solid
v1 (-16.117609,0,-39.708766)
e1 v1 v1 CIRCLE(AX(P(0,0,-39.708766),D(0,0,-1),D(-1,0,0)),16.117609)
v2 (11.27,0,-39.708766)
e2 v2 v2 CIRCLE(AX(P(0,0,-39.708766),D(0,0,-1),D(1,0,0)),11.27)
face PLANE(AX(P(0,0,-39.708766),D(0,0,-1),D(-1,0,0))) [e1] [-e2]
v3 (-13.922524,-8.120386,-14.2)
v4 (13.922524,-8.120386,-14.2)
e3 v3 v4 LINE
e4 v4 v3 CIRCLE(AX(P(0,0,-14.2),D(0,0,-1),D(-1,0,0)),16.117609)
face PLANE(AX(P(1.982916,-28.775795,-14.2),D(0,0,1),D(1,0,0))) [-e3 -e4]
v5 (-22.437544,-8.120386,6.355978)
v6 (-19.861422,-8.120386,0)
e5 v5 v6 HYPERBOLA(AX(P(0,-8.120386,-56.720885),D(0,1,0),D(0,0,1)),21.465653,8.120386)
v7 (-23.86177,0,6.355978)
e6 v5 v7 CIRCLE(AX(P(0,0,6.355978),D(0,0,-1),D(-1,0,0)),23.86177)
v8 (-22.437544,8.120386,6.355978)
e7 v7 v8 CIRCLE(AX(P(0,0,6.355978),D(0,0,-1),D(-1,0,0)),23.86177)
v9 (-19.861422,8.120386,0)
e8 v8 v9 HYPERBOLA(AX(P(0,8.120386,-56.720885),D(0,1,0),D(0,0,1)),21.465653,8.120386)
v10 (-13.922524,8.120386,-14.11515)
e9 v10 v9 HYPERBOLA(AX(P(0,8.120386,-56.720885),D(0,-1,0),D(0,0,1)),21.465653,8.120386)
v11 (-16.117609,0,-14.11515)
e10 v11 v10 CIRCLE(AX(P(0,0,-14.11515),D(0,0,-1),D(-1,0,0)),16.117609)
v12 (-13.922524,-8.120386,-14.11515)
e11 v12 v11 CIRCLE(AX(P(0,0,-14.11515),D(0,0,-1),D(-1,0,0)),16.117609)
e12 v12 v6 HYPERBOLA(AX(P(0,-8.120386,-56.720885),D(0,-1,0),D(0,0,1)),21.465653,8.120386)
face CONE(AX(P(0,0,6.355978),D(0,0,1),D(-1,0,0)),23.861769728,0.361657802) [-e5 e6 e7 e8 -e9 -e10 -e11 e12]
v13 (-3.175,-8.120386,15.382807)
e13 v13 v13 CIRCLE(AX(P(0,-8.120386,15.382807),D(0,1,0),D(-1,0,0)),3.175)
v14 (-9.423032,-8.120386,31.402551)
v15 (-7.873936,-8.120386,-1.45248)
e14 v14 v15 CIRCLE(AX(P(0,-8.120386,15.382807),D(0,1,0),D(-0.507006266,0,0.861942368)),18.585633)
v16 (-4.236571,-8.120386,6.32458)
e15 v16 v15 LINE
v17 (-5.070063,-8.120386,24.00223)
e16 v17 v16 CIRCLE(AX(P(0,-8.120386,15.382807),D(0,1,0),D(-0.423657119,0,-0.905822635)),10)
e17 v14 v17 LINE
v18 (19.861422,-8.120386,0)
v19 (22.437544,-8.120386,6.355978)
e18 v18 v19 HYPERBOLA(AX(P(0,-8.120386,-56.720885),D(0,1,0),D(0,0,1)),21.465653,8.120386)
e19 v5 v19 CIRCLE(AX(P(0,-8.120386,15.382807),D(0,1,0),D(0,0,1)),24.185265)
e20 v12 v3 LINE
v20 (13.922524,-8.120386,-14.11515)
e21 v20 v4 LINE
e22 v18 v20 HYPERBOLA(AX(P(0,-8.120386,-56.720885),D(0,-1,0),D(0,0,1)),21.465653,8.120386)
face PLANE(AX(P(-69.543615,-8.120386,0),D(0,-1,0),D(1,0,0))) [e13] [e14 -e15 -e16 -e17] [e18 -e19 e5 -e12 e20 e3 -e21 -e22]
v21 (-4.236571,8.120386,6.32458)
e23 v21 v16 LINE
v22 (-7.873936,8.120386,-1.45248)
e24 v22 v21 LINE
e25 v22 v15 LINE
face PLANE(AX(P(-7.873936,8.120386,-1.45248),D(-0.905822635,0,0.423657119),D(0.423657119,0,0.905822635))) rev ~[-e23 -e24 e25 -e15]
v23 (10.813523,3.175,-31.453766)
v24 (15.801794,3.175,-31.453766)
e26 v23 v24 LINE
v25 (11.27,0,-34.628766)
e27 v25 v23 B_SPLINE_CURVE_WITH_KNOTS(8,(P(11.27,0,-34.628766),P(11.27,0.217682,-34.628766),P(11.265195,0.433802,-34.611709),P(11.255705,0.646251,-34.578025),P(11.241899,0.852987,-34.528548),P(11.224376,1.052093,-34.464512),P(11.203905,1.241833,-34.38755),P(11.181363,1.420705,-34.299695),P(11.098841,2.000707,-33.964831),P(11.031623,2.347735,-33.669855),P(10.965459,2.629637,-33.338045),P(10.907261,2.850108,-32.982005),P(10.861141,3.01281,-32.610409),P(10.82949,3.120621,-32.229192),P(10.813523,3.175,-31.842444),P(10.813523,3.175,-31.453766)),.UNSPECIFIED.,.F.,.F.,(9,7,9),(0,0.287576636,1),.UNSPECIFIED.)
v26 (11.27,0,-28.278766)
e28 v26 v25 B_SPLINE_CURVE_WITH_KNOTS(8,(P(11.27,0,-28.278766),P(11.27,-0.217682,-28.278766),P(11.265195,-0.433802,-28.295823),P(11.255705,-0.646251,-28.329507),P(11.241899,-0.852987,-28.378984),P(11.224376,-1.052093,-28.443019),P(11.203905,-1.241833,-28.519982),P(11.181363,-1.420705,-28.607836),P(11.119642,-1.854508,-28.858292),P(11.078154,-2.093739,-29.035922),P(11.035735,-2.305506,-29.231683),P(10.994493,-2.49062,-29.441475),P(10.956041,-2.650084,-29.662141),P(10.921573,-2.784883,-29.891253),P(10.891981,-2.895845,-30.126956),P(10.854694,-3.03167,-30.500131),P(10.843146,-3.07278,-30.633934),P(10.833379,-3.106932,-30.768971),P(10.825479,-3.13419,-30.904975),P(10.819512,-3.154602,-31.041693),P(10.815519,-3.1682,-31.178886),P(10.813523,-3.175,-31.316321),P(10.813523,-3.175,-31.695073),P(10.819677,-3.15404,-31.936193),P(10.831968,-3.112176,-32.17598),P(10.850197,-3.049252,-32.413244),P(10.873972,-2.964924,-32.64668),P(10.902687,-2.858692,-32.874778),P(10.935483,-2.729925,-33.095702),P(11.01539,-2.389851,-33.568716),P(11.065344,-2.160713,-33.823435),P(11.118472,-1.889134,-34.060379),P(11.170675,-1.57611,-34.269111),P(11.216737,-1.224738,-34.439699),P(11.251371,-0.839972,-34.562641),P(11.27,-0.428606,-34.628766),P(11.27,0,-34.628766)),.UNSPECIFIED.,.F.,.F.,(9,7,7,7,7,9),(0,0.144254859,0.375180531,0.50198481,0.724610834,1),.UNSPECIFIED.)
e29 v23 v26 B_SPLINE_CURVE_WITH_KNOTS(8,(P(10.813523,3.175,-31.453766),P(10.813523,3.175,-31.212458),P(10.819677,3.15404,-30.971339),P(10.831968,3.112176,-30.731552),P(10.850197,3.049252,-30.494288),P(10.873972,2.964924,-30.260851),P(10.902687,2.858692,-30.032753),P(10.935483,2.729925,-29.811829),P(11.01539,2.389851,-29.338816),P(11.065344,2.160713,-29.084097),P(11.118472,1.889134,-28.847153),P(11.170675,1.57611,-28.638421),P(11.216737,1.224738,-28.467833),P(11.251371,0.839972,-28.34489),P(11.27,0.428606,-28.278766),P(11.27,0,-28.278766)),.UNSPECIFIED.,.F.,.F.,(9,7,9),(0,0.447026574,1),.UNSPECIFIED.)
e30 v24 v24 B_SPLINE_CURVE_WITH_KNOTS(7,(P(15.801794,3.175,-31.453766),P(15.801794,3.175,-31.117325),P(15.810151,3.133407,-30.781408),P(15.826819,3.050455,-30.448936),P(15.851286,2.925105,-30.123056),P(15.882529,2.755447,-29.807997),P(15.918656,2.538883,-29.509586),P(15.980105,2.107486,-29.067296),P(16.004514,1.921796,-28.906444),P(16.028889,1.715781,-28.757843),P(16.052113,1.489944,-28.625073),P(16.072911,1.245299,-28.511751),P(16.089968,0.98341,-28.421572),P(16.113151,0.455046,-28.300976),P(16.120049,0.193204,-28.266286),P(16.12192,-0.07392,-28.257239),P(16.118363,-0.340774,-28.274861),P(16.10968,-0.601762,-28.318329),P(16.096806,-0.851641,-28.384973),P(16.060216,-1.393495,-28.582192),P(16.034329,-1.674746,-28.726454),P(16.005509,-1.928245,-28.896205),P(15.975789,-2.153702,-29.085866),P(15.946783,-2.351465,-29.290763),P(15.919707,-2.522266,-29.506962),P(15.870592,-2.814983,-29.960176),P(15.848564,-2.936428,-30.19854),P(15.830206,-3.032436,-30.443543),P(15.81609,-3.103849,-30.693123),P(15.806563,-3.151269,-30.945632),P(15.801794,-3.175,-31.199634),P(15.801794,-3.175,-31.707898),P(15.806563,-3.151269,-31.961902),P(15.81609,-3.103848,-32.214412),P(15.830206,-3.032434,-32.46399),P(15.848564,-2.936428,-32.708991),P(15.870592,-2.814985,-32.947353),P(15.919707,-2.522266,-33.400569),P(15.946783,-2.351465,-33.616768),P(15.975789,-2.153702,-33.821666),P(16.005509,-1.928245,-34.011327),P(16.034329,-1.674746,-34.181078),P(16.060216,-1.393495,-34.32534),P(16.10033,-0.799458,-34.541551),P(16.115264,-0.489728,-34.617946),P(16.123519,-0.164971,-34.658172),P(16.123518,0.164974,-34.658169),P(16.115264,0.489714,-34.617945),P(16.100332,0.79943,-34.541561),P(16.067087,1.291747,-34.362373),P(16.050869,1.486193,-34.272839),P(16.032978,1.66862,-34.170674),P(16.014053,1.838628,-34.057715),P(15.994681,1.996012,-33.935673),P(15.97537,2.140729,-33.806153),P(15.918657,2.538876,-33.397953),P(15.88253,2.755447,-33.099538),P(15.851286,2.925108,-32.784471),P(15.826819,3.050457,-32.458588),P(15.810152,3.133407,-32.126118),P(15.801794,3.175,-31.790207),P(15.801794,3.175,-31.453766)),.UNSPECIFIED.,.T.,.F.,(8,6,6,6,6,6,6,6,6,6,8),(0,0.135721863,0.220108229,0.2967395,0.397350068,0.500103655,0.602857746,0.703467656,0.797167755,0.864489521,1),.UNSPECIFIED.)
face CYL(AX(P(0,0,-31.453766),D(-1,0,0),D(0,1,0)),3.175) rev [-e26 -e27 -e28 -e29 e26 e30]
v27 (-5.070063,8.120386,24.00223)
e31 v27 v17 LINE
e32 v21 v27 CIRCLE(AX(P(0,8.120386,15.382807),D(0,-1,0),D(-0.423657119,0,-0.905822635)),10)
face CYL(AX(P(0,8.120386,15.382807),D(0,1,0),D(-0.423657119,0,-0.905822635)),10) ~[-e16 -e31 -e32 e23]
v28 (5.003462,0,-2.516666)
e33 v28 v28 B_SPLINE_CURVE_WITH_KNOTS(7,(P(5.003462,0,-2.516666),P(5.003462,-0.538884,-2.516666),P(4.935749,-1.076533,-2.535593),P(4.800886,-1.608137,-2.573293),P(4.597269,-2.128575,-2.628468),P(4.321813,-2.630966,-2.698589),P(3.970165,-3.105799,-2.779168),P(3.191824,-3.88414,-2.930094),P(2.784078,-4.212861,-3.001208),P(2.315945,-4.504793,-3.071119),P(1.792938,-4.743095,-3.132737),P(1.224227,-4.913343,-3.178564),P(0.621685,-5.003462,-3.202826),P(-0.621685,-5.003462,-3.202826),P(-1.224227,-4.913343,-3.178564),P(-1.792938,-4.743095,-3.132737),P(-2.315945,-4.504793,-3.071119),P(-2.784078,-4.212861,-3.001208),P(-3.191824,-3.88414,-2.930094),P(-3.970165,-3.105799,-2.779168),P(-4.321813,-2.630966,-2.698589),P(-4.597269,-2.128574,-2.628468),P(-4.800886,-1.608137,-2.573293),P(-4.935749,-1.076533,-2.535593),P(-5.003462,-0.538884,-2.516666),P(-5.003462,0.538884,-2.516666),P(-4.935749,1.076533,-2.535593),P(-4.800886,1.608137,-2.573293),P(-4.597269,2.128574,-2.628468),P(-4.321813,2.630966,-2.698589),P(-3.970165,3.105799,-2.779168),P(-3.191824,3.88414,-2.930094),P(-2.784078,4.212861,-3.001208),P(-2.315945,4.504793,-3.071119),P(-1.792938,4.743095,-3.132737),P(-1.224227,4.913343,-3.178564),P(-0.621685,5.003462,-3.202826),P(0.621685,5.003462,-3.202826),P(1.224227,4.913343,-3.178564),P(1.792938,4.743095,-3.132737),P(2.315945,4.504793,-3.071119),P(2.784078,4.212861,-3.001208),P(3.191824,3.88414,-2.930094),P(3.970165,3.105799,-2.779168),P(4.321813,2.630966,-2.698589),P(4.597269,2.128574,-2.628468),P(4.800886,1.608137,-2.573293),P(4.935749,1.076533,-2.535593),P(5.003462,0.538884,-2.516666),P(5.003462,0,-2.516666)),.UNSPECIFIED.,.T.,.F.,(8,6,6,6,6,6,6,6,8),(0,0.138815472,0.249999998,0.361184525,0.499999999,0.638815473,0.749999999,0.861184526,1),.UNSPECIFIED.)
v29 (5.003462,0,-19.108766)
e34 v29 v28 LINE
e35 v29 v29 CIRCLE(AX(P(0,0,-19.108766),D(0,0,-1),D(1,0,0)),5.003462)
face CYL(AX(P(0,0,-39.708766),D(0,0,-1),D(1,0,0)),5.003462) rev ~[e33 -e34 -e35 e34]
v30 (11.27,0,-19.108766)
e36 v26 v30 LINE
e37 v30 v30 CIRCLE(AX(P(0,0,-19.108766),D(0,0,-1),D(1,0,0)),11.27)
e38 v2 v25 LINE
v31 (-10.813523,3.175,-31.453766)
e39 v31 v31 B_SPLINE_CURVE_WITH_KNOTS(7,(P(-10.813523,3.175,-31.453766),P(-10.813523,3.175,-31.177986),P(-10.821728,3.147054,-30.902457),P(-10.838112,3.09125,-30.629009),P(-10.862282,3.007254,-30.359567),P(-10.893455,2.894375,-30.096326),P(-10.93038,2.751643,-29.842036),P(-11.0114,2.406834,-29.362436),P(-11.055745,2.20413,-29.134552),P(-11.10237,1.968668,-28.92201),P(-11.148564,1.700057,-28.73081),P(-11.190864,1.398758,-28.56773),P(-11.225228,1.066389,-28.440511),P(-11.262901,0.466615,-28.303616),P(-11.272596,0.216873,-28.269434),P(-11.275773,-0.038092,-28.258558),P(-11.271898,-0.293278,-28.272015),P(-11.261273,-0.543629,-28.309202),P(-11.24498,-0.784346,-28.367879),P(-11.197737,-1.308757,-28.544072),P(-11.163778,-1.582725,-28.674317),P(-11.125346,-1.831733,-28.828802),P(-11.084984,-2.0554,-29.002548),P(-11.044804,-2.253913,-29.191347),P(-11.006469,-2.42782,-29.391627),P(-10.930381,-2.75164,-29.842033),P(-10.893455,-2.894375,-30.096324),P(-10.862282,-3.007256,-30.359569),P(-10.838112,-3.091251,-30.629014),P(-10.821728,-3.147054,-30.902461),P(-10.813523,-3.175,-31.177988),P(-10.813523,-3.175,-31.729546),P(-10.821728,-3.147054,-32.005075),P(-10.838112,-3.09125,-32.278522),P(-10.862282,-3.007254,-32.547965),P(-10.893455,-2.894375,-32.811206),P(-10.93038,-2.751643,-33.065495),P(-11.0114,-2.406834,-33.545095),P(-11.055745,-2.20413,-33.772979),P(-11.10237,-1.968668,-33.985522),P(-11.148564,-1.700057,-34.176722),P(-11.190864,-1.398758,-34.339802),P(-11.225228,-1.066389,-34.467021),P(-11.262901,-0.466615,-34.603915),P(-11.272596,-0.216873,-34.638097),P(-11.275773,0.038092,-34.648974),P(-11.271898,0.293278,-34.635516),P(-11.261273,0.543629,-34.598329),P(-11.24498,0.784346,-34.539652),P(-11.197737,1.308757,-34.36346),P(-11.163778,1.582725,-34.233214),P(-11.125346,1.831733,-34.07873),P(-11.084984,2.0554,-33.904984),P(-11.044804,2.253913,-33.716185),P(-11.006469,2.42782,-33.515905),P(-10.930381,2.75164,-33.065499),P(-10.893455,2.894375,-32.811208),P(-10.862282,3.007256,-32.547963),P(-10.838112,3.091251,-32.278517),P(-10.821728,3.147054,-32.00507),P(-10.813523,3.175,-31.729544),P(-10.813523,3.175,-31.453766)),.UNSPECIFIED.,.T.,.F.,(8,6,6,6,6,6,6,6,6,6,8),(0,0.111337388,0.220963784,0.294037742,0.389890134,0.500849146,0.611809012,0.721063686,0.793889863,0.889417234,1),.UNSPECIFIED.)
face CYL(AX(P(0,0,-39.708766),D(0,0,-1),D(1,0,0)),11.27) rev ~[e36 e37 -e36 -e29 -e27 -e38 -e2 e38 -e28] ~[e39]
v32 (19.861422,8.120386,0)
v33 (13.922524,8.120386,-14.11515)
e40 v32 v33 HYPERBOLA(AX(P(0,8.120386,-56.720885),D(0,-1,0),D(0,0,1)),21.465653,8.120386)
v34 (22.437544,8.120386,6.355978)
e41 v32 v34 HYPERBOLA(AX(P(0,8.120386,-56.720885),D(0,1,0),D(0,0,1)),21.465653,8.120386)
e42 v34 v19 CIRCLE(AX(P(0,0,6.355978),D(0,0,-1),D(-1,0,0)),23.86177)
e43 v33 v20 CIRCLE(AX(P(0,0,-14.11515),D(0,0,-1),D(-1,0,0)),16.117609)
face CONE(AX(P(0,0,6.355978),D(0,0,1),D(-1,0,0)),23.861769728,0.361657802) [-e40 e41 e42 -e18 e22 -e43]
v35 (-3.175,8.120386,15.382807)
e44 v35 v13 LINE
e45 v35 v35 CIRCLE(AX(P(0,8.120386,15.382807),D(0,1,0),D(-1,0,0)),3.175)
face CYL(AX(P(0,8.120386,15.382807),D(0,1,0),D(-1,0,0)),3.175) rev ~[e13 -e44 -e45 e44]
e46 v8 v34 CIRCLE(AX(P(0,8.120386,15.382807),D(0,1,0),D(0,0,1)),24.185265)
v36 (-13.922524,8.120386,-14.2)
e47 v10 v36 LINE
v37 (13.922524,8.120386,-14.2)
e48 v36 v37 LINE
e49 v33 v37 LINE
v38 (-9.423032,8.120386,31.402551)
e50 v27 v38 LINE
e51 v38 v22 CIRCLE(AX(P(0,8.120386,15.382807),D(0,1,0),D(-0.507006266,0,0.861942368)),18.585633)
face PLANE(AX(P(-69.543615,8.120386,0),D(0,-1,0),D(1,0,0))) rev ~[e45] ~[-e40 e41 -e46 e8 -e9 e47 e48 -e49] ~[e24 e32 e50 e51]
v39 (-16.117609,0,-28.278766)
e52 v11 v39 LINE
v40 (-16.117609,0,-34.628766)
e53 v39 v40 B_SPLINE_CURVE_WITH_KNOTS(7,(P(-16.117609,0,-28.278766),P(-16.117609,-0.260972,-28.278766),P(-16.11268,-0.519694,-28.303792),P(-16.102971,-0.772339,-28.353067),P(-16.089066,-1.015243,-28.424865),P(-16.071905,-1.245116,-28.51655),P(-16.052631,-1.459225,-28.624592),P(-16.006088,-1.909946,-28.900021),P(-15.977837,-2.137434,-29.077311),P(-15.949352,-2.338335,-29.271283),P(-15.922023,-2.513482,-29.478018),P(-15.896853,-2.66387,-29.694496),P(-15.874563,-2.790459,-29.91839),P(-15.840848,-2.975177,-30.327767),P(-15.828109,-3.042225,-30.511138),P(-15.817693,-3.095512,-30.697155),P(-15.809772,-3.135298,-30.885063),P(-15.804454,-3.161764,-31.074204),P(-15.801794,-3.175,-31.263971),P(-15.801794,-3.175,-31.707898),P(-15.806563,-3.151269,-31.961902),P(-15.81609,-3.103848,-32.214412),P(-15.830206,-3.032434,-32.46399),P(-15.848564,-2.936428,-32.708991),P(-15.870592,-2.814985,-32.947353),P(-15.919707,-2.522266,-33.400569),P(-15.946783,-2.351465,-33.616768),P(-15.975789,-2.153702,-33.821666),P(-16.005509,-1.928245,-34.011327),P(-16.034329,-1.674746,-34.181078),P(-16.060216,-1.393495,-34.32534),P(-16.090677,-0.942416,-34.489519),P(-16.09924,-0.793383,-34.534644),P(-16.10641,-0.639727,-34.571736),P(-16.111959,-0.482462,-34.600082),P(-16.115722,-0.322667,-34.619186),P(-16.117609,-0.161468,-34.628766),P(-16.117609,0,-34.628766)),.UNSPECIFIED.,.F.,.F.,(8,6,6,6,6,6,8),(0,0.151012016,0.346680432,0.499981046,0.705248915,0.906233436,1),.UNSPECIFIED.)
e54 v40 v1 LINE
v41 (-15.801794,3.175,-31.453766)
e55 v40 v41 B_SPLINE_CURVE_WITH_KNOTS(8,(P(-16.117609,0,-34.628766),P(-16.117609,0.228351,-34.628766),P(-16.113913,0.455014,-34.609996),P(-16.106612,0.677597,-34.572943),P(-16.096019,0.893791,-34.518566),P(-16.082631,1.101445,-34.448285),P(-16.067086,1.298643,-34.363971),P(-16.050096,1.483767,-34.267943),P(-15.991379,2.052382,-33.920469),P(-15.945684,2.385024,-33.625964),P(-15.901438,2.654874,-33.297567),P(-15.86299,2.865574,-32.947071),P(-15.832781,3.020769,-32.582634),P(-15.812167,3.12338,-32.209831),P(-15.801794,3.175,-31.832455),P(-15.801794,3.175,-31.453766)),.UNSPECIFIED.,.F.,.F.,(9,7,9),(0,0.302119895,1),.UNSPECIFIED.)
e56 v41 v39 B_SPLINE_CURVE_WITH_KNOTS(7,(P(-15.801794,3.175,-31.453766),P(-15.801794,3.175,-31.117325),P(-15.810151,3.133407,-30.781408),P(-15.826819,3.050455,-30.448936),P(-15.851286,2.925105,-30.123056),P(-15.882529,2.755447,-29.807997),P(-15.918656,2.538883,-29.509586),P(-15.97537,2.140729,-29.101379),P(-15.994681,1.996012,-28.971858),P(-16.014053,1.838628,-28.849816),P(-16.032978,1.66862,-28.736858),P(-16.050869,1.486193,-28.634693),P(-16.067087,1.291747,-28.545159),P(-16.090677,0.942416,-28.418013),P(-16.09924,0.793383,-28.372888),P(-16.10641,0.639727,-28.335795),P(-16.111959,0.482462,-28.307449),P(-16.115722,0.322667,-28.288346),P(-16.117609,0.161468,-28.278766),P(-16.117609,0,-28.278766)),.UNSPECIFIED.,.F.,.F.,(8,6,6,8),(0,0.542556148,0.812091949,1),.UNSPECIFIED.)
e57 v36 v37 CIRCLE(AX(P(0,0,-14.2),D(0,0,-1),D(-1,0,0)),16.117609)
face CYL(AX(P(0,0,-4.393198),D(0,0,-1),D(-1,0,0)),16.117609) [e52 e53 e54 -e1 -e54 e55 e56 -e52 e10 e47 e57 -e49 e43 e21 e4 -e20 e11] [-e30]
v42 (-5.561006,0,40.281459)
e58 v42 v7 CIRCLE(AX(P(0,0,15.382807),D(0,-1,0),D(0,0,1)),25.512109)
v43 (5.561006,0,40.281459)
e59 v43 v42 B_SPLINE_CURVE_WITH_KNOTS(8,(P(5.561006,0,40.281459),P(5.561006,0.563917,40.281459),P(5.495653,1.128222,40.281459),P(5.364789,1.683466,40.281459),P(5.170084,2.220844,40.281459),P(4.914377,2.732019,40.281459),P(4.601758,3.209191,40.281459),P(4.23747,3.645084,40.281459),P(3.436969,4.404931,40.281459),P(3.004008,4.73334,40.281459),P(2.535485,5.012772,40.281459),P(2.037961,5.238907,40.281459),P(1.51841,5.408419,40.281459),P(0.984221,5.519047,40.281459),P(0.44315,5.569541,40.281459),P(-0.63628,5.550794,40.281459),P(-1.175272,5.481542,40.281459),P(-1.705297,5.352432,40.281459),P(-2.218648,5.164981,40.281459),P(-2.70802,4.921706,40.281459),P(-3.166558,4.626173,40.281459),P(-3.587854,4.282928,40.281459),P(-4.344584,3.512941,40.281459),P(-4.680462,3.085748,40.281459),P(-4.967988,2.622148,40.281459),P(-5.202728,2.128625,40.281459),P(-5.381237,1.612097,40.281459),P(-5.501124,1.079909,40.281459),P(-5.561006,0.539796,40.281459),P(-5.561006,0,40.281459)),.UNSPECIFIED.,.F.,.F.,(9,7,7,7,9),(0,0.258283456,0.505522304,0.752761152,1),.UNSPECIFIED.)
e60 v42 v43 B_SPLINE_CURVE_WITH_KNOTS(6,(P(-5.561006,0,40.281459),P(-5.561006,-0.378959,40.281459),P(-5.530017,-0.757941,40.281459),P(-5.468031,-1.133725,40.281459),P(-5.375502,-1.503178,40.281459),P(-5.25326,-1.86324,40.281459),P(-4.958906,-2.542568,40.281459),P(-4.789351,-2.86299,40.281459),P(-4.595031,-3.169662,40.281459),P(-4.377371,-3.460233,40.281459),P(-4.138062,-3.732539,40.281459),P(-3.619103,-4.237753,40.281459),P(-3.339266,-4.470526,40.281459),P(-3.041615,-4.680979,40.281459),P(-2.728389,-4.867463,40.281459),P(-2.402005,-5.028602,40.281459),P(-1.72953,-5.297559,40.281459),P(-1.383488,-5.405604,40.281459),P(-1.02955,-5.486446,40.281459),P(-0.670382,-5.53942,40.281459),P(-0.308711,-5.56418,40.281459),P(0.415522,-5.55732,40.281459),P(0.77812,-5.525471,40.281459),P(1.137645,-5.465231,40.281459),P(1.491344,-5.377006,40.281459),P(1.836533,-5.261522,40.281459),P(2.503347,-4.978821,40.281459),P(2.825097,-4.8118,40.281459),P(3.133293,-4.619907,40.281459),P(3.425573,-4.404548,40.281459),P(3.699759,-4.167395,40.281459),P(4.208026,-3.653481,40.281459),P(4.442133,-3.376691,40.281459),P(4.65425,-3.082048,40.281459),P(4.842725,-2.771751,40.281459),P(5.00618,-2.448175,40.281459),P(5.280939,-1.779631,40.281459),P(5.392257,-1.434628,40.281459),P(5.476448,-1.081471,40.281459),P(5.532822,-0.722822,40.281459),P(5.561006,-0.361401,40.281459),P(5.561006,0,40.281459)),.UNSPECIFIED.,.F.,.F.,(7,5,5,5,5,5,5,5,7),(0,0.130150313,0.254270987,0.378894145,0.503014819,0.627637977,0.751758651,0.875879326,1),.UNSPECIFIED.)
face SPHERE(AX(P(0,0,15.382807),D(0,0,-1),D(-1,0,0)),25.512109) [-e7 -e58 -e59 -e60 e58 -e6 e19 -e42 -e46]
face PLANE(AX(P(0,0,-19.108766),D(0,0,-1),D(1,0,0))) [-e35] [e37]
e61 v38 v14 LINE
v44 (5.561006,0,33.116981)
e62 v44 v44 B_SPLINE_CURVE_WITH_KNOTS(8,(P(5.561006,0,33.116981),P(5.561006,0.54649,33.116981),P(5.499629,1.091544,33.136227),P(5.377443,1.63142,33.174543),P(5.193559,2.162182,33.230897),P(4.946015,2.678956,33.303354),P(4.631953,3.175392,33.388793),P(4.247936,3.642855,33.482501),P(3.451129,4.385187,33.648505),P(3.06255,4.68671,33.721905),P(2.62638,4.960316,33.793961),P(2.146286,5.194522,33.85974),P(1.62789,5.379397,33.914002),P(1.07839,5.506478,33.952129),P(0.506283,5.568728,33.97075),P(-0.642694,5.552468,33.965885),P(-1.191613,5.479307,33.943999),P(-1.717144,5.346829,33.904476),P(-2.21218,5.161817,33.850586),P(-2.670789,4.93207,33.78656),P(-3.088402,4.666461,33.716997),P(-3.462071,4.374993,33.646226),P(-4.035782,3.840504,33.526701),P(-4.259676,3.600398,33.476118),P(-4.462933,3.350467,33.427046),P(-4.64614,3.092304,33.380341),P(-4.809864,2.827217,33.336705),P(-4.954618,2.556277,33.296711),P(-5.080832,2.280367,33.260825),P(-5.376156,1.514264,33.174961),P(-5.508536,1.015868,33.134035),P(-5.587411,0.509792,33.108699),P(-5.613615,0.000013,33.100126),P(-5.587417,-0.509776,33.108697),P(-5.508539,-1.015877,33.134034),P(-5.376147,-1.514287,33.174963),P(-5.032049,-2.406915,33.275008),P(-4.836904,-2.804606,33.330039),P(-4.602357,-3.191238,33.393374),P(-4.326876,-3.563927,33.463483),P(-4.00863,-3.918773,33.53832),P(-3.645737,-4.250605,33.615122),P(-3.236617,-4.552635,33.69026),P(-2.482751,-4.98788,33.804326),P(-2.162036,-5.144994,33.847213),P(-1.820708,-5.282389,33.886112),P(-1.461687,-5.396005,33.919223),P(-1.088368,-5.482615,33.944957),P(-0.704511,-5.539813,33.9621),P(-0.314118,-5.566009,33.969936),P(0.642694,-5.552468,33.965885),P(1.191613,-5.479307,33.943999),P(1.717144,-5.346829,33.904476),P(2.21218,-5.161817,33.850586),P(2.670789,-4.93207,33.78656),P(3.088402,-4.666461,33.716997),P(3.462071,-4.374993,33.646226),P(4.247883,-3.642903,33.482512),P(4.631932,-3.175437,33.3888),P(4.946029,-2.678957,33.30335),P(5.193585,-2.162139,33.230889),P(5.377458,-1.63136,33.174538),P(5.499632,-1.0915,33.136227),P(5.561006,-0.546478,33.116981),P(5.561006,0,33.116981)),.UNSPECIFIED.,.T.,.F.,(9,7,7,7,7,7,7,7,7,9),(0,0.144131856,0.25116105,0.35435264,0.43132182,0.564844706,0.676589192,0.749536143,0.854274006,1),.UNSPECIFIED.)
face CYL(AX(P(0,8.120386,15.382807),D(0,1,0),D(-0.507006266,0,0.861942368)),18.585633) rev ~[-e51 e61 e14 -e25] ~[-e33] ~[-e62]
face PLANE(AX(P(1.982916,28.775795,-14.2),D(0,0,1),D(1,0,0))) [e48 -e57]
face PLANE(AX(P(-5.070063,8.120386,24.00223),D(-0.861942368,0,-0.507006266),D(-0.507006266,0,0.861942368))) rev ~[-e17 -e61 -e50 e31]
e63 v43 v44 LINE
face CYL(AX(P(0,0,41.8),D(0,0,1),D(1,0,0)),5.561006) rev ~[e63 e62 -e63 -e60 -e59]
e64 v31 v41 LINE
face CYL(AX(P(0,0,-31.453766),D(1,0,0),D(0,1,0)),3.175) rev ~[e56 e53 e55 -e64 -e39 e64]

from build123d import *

# Parameters (mm, degrees)
F2_W           = 143.0530622602
F2_H           = 41.3108188659
F3_DEPTH       = 14.2
F4_DEPTH       = 45
F5_R           = 3.175
F6_DEPTH       = 25
F7_R           = 11.27
F7_R_2         = 5.0034619329
F8_DEPTH       = 20.6
F9_DEPTH       = 38.1921002041
F11_R          = 5.5610063416
F12_DEPTH      = 13
F13_R          = 3.175
F14_DEPTH      = 25.5131088414
F14_DEPTH_BACK = 25


with BuildPart() as f1:
    # F0 (on Front) → F1 (revolve)
    with BuildSketch(Plane.XZ):
        with BuildLine():
            ThreePointArc((-23.8617697281, 6.3559776459), (-20.6996107179, 0.4699326202), (-16.1176094264, -4.3931980396))
            Line((-16.1176094264, -4.3931980396), (-16.1176094264, 11.4784657965))
            Line((-16.1176094264, 11.4784657965), (0, 11.4784657965))
            Line((0, 11.4784657965), (0, 40.8949155528))
            ThreePointArc((0, 40.8949155528), (-20.9900112333, 29.8840868605), (-23.8617697281, 6.3559776459))
        make_face()
        with BuildLine():
            ThreePointArc((-16.1176094264, -4.3931980396), (-8.5539497274, -8.6525348005), (0, -10.12930213))
            Line((0, -10.12930213), (0, 11.4784657965))
            Line((0, 11.4784657965), (-16.1176094264, 11.4784657965))
            Line((-16.1176094264, 11.4784657965), (-16.1176094264, -4.3931980396))
        make_face()
        with BuildLine():
            Line((-16.1176094264, -14.11514998), (-16.1176094264, -39.7087657565))
            Line((-16.1176094264, -39.7087657565), (0, -39.7087657565))
            Line((0, -39.7087657565), (0, -10.12930213))
            ThreePointArc((0, -10.12930213), (-8.5539497274, -8.6525348005), (-16.1176094264, -4.3931980396))
            Line((-16.1176094264, -4.3931980396), (-16.1176094264, -14.11514998))
        make_face()
        with BuildLine():
            Line((-23.8617697281, 6.3559776459), (-16.1176094264, -14.11514998))
            Line((-16.1176094264, -14.11514998), (-16.1176094264, -4.3931980396))
            ThreePointArc((-16.1176094264, -4.3931980396), (-20.6996107179, 0.4699326202), (-23.8617697281, 6.3559776459))
        make_face()
    revolve(axis=Axis((0, 0, 1.6492682043), (0, 0, -1)))

    # F2 (on Top) → F3 (cut)
    with BuildSketch(Plane.XY):
        with Locations((1.9829161465, 28.7757953629)):
            Rectangle(F2_W, F2_H)
        with Locations((1.9829161465, -28.7757953629)):
            Rectangle(F2_W, F2_H)
    extrude(amount=-F3_DEPTH, mode=Mode.SUBTRACT)

    # F2 (on Top) → F4 (cut)
    with BuildSketch(Plane.XY):
        with Locations((1.9829161465, 28.7757953629)):
            Rectangle(F2_W, F2_H)
        with Locations((1.9829161465, -28.7757953629)):
            Rectangle(F2_W, F2_H)
    extrude(amount=F4_DEPTH, mode=Mode.SUBTRACT)

    # F5 (on face) → F6 (cut)
    with BuildSketch(Plane(origin=(0, 8.1203859299, 0), x_dir=(-1, 0, 0), z_dir=(0, 1, 0))):
        with BuildLine():
            ThreePointArc((4.2365711861, 6.3245803627), (-9.9889031453, 15.8537779996), (5.0700626603, 24.0022303941))
            Line((5.0700626603, 24.0022303941), (9.4230322282, 31.4025509617))
            ThreePointArc((9.4230322282, 31.4025509617), (-18.5650084761, 16.2581366481), (7.8739355899, -1.4524800561))
            Line((7.8739355899, -1.4524800561), (4.2365711861, 6.3245803627))
        make_face()
        with Locations((0, 15.3828067114)):
            Circle(F5_R)
    extrude(amount=-F6_DEPTH, mode=Mode.SUBTRACT)

    # F7 (on face) → F8 (cut)
    with BuildSketch(Plane(origin=(0, 0, -39.7087657565), x_dir=(1, 0, 0), z_dir=(0, 0, -1))):
        Circle(F7_R)
        Circle(F7_R_2, mode=Mode.SUBTRACT)
    extrude(amount=-F8_DEPTH, mode=Mode.SUBTRACT)

    # F7 (on face) → F9 (cut, up to face)
    with BuildSketch(Plane(origin=(0, 0, -39.7087657565), x_dir=(1, 0, 0), z_dir=(0, 0, -1))):
        Circle(F7_R_2)
    extrude(amount=-F9_DEPTH, mode=Mode.SUBTRACT)

    # F11 (on offset) → F12 (cut)
    with BuildSketch(Plane.XY.offset(41.8)):
        Circle(F11_R)
    extrude(amount=-F12_DEPTH, mode=Mode.SUBTRACT)

    # F13 (on Right) → F14 (cut, two sides)
    with BuildSketch(Plane.YZ) as f14_sk:
        with Locations((0, -31.4537657565)):
            Circle(F13_R)
    extrude(amount=F14_DEPTH, mode=Mode.SUBTRACT)
    extrude(f14_sk.sketch, amount=-F14_DEPTH_BACK, mode=Mode.SUBTRACT)


solid = f1.part
